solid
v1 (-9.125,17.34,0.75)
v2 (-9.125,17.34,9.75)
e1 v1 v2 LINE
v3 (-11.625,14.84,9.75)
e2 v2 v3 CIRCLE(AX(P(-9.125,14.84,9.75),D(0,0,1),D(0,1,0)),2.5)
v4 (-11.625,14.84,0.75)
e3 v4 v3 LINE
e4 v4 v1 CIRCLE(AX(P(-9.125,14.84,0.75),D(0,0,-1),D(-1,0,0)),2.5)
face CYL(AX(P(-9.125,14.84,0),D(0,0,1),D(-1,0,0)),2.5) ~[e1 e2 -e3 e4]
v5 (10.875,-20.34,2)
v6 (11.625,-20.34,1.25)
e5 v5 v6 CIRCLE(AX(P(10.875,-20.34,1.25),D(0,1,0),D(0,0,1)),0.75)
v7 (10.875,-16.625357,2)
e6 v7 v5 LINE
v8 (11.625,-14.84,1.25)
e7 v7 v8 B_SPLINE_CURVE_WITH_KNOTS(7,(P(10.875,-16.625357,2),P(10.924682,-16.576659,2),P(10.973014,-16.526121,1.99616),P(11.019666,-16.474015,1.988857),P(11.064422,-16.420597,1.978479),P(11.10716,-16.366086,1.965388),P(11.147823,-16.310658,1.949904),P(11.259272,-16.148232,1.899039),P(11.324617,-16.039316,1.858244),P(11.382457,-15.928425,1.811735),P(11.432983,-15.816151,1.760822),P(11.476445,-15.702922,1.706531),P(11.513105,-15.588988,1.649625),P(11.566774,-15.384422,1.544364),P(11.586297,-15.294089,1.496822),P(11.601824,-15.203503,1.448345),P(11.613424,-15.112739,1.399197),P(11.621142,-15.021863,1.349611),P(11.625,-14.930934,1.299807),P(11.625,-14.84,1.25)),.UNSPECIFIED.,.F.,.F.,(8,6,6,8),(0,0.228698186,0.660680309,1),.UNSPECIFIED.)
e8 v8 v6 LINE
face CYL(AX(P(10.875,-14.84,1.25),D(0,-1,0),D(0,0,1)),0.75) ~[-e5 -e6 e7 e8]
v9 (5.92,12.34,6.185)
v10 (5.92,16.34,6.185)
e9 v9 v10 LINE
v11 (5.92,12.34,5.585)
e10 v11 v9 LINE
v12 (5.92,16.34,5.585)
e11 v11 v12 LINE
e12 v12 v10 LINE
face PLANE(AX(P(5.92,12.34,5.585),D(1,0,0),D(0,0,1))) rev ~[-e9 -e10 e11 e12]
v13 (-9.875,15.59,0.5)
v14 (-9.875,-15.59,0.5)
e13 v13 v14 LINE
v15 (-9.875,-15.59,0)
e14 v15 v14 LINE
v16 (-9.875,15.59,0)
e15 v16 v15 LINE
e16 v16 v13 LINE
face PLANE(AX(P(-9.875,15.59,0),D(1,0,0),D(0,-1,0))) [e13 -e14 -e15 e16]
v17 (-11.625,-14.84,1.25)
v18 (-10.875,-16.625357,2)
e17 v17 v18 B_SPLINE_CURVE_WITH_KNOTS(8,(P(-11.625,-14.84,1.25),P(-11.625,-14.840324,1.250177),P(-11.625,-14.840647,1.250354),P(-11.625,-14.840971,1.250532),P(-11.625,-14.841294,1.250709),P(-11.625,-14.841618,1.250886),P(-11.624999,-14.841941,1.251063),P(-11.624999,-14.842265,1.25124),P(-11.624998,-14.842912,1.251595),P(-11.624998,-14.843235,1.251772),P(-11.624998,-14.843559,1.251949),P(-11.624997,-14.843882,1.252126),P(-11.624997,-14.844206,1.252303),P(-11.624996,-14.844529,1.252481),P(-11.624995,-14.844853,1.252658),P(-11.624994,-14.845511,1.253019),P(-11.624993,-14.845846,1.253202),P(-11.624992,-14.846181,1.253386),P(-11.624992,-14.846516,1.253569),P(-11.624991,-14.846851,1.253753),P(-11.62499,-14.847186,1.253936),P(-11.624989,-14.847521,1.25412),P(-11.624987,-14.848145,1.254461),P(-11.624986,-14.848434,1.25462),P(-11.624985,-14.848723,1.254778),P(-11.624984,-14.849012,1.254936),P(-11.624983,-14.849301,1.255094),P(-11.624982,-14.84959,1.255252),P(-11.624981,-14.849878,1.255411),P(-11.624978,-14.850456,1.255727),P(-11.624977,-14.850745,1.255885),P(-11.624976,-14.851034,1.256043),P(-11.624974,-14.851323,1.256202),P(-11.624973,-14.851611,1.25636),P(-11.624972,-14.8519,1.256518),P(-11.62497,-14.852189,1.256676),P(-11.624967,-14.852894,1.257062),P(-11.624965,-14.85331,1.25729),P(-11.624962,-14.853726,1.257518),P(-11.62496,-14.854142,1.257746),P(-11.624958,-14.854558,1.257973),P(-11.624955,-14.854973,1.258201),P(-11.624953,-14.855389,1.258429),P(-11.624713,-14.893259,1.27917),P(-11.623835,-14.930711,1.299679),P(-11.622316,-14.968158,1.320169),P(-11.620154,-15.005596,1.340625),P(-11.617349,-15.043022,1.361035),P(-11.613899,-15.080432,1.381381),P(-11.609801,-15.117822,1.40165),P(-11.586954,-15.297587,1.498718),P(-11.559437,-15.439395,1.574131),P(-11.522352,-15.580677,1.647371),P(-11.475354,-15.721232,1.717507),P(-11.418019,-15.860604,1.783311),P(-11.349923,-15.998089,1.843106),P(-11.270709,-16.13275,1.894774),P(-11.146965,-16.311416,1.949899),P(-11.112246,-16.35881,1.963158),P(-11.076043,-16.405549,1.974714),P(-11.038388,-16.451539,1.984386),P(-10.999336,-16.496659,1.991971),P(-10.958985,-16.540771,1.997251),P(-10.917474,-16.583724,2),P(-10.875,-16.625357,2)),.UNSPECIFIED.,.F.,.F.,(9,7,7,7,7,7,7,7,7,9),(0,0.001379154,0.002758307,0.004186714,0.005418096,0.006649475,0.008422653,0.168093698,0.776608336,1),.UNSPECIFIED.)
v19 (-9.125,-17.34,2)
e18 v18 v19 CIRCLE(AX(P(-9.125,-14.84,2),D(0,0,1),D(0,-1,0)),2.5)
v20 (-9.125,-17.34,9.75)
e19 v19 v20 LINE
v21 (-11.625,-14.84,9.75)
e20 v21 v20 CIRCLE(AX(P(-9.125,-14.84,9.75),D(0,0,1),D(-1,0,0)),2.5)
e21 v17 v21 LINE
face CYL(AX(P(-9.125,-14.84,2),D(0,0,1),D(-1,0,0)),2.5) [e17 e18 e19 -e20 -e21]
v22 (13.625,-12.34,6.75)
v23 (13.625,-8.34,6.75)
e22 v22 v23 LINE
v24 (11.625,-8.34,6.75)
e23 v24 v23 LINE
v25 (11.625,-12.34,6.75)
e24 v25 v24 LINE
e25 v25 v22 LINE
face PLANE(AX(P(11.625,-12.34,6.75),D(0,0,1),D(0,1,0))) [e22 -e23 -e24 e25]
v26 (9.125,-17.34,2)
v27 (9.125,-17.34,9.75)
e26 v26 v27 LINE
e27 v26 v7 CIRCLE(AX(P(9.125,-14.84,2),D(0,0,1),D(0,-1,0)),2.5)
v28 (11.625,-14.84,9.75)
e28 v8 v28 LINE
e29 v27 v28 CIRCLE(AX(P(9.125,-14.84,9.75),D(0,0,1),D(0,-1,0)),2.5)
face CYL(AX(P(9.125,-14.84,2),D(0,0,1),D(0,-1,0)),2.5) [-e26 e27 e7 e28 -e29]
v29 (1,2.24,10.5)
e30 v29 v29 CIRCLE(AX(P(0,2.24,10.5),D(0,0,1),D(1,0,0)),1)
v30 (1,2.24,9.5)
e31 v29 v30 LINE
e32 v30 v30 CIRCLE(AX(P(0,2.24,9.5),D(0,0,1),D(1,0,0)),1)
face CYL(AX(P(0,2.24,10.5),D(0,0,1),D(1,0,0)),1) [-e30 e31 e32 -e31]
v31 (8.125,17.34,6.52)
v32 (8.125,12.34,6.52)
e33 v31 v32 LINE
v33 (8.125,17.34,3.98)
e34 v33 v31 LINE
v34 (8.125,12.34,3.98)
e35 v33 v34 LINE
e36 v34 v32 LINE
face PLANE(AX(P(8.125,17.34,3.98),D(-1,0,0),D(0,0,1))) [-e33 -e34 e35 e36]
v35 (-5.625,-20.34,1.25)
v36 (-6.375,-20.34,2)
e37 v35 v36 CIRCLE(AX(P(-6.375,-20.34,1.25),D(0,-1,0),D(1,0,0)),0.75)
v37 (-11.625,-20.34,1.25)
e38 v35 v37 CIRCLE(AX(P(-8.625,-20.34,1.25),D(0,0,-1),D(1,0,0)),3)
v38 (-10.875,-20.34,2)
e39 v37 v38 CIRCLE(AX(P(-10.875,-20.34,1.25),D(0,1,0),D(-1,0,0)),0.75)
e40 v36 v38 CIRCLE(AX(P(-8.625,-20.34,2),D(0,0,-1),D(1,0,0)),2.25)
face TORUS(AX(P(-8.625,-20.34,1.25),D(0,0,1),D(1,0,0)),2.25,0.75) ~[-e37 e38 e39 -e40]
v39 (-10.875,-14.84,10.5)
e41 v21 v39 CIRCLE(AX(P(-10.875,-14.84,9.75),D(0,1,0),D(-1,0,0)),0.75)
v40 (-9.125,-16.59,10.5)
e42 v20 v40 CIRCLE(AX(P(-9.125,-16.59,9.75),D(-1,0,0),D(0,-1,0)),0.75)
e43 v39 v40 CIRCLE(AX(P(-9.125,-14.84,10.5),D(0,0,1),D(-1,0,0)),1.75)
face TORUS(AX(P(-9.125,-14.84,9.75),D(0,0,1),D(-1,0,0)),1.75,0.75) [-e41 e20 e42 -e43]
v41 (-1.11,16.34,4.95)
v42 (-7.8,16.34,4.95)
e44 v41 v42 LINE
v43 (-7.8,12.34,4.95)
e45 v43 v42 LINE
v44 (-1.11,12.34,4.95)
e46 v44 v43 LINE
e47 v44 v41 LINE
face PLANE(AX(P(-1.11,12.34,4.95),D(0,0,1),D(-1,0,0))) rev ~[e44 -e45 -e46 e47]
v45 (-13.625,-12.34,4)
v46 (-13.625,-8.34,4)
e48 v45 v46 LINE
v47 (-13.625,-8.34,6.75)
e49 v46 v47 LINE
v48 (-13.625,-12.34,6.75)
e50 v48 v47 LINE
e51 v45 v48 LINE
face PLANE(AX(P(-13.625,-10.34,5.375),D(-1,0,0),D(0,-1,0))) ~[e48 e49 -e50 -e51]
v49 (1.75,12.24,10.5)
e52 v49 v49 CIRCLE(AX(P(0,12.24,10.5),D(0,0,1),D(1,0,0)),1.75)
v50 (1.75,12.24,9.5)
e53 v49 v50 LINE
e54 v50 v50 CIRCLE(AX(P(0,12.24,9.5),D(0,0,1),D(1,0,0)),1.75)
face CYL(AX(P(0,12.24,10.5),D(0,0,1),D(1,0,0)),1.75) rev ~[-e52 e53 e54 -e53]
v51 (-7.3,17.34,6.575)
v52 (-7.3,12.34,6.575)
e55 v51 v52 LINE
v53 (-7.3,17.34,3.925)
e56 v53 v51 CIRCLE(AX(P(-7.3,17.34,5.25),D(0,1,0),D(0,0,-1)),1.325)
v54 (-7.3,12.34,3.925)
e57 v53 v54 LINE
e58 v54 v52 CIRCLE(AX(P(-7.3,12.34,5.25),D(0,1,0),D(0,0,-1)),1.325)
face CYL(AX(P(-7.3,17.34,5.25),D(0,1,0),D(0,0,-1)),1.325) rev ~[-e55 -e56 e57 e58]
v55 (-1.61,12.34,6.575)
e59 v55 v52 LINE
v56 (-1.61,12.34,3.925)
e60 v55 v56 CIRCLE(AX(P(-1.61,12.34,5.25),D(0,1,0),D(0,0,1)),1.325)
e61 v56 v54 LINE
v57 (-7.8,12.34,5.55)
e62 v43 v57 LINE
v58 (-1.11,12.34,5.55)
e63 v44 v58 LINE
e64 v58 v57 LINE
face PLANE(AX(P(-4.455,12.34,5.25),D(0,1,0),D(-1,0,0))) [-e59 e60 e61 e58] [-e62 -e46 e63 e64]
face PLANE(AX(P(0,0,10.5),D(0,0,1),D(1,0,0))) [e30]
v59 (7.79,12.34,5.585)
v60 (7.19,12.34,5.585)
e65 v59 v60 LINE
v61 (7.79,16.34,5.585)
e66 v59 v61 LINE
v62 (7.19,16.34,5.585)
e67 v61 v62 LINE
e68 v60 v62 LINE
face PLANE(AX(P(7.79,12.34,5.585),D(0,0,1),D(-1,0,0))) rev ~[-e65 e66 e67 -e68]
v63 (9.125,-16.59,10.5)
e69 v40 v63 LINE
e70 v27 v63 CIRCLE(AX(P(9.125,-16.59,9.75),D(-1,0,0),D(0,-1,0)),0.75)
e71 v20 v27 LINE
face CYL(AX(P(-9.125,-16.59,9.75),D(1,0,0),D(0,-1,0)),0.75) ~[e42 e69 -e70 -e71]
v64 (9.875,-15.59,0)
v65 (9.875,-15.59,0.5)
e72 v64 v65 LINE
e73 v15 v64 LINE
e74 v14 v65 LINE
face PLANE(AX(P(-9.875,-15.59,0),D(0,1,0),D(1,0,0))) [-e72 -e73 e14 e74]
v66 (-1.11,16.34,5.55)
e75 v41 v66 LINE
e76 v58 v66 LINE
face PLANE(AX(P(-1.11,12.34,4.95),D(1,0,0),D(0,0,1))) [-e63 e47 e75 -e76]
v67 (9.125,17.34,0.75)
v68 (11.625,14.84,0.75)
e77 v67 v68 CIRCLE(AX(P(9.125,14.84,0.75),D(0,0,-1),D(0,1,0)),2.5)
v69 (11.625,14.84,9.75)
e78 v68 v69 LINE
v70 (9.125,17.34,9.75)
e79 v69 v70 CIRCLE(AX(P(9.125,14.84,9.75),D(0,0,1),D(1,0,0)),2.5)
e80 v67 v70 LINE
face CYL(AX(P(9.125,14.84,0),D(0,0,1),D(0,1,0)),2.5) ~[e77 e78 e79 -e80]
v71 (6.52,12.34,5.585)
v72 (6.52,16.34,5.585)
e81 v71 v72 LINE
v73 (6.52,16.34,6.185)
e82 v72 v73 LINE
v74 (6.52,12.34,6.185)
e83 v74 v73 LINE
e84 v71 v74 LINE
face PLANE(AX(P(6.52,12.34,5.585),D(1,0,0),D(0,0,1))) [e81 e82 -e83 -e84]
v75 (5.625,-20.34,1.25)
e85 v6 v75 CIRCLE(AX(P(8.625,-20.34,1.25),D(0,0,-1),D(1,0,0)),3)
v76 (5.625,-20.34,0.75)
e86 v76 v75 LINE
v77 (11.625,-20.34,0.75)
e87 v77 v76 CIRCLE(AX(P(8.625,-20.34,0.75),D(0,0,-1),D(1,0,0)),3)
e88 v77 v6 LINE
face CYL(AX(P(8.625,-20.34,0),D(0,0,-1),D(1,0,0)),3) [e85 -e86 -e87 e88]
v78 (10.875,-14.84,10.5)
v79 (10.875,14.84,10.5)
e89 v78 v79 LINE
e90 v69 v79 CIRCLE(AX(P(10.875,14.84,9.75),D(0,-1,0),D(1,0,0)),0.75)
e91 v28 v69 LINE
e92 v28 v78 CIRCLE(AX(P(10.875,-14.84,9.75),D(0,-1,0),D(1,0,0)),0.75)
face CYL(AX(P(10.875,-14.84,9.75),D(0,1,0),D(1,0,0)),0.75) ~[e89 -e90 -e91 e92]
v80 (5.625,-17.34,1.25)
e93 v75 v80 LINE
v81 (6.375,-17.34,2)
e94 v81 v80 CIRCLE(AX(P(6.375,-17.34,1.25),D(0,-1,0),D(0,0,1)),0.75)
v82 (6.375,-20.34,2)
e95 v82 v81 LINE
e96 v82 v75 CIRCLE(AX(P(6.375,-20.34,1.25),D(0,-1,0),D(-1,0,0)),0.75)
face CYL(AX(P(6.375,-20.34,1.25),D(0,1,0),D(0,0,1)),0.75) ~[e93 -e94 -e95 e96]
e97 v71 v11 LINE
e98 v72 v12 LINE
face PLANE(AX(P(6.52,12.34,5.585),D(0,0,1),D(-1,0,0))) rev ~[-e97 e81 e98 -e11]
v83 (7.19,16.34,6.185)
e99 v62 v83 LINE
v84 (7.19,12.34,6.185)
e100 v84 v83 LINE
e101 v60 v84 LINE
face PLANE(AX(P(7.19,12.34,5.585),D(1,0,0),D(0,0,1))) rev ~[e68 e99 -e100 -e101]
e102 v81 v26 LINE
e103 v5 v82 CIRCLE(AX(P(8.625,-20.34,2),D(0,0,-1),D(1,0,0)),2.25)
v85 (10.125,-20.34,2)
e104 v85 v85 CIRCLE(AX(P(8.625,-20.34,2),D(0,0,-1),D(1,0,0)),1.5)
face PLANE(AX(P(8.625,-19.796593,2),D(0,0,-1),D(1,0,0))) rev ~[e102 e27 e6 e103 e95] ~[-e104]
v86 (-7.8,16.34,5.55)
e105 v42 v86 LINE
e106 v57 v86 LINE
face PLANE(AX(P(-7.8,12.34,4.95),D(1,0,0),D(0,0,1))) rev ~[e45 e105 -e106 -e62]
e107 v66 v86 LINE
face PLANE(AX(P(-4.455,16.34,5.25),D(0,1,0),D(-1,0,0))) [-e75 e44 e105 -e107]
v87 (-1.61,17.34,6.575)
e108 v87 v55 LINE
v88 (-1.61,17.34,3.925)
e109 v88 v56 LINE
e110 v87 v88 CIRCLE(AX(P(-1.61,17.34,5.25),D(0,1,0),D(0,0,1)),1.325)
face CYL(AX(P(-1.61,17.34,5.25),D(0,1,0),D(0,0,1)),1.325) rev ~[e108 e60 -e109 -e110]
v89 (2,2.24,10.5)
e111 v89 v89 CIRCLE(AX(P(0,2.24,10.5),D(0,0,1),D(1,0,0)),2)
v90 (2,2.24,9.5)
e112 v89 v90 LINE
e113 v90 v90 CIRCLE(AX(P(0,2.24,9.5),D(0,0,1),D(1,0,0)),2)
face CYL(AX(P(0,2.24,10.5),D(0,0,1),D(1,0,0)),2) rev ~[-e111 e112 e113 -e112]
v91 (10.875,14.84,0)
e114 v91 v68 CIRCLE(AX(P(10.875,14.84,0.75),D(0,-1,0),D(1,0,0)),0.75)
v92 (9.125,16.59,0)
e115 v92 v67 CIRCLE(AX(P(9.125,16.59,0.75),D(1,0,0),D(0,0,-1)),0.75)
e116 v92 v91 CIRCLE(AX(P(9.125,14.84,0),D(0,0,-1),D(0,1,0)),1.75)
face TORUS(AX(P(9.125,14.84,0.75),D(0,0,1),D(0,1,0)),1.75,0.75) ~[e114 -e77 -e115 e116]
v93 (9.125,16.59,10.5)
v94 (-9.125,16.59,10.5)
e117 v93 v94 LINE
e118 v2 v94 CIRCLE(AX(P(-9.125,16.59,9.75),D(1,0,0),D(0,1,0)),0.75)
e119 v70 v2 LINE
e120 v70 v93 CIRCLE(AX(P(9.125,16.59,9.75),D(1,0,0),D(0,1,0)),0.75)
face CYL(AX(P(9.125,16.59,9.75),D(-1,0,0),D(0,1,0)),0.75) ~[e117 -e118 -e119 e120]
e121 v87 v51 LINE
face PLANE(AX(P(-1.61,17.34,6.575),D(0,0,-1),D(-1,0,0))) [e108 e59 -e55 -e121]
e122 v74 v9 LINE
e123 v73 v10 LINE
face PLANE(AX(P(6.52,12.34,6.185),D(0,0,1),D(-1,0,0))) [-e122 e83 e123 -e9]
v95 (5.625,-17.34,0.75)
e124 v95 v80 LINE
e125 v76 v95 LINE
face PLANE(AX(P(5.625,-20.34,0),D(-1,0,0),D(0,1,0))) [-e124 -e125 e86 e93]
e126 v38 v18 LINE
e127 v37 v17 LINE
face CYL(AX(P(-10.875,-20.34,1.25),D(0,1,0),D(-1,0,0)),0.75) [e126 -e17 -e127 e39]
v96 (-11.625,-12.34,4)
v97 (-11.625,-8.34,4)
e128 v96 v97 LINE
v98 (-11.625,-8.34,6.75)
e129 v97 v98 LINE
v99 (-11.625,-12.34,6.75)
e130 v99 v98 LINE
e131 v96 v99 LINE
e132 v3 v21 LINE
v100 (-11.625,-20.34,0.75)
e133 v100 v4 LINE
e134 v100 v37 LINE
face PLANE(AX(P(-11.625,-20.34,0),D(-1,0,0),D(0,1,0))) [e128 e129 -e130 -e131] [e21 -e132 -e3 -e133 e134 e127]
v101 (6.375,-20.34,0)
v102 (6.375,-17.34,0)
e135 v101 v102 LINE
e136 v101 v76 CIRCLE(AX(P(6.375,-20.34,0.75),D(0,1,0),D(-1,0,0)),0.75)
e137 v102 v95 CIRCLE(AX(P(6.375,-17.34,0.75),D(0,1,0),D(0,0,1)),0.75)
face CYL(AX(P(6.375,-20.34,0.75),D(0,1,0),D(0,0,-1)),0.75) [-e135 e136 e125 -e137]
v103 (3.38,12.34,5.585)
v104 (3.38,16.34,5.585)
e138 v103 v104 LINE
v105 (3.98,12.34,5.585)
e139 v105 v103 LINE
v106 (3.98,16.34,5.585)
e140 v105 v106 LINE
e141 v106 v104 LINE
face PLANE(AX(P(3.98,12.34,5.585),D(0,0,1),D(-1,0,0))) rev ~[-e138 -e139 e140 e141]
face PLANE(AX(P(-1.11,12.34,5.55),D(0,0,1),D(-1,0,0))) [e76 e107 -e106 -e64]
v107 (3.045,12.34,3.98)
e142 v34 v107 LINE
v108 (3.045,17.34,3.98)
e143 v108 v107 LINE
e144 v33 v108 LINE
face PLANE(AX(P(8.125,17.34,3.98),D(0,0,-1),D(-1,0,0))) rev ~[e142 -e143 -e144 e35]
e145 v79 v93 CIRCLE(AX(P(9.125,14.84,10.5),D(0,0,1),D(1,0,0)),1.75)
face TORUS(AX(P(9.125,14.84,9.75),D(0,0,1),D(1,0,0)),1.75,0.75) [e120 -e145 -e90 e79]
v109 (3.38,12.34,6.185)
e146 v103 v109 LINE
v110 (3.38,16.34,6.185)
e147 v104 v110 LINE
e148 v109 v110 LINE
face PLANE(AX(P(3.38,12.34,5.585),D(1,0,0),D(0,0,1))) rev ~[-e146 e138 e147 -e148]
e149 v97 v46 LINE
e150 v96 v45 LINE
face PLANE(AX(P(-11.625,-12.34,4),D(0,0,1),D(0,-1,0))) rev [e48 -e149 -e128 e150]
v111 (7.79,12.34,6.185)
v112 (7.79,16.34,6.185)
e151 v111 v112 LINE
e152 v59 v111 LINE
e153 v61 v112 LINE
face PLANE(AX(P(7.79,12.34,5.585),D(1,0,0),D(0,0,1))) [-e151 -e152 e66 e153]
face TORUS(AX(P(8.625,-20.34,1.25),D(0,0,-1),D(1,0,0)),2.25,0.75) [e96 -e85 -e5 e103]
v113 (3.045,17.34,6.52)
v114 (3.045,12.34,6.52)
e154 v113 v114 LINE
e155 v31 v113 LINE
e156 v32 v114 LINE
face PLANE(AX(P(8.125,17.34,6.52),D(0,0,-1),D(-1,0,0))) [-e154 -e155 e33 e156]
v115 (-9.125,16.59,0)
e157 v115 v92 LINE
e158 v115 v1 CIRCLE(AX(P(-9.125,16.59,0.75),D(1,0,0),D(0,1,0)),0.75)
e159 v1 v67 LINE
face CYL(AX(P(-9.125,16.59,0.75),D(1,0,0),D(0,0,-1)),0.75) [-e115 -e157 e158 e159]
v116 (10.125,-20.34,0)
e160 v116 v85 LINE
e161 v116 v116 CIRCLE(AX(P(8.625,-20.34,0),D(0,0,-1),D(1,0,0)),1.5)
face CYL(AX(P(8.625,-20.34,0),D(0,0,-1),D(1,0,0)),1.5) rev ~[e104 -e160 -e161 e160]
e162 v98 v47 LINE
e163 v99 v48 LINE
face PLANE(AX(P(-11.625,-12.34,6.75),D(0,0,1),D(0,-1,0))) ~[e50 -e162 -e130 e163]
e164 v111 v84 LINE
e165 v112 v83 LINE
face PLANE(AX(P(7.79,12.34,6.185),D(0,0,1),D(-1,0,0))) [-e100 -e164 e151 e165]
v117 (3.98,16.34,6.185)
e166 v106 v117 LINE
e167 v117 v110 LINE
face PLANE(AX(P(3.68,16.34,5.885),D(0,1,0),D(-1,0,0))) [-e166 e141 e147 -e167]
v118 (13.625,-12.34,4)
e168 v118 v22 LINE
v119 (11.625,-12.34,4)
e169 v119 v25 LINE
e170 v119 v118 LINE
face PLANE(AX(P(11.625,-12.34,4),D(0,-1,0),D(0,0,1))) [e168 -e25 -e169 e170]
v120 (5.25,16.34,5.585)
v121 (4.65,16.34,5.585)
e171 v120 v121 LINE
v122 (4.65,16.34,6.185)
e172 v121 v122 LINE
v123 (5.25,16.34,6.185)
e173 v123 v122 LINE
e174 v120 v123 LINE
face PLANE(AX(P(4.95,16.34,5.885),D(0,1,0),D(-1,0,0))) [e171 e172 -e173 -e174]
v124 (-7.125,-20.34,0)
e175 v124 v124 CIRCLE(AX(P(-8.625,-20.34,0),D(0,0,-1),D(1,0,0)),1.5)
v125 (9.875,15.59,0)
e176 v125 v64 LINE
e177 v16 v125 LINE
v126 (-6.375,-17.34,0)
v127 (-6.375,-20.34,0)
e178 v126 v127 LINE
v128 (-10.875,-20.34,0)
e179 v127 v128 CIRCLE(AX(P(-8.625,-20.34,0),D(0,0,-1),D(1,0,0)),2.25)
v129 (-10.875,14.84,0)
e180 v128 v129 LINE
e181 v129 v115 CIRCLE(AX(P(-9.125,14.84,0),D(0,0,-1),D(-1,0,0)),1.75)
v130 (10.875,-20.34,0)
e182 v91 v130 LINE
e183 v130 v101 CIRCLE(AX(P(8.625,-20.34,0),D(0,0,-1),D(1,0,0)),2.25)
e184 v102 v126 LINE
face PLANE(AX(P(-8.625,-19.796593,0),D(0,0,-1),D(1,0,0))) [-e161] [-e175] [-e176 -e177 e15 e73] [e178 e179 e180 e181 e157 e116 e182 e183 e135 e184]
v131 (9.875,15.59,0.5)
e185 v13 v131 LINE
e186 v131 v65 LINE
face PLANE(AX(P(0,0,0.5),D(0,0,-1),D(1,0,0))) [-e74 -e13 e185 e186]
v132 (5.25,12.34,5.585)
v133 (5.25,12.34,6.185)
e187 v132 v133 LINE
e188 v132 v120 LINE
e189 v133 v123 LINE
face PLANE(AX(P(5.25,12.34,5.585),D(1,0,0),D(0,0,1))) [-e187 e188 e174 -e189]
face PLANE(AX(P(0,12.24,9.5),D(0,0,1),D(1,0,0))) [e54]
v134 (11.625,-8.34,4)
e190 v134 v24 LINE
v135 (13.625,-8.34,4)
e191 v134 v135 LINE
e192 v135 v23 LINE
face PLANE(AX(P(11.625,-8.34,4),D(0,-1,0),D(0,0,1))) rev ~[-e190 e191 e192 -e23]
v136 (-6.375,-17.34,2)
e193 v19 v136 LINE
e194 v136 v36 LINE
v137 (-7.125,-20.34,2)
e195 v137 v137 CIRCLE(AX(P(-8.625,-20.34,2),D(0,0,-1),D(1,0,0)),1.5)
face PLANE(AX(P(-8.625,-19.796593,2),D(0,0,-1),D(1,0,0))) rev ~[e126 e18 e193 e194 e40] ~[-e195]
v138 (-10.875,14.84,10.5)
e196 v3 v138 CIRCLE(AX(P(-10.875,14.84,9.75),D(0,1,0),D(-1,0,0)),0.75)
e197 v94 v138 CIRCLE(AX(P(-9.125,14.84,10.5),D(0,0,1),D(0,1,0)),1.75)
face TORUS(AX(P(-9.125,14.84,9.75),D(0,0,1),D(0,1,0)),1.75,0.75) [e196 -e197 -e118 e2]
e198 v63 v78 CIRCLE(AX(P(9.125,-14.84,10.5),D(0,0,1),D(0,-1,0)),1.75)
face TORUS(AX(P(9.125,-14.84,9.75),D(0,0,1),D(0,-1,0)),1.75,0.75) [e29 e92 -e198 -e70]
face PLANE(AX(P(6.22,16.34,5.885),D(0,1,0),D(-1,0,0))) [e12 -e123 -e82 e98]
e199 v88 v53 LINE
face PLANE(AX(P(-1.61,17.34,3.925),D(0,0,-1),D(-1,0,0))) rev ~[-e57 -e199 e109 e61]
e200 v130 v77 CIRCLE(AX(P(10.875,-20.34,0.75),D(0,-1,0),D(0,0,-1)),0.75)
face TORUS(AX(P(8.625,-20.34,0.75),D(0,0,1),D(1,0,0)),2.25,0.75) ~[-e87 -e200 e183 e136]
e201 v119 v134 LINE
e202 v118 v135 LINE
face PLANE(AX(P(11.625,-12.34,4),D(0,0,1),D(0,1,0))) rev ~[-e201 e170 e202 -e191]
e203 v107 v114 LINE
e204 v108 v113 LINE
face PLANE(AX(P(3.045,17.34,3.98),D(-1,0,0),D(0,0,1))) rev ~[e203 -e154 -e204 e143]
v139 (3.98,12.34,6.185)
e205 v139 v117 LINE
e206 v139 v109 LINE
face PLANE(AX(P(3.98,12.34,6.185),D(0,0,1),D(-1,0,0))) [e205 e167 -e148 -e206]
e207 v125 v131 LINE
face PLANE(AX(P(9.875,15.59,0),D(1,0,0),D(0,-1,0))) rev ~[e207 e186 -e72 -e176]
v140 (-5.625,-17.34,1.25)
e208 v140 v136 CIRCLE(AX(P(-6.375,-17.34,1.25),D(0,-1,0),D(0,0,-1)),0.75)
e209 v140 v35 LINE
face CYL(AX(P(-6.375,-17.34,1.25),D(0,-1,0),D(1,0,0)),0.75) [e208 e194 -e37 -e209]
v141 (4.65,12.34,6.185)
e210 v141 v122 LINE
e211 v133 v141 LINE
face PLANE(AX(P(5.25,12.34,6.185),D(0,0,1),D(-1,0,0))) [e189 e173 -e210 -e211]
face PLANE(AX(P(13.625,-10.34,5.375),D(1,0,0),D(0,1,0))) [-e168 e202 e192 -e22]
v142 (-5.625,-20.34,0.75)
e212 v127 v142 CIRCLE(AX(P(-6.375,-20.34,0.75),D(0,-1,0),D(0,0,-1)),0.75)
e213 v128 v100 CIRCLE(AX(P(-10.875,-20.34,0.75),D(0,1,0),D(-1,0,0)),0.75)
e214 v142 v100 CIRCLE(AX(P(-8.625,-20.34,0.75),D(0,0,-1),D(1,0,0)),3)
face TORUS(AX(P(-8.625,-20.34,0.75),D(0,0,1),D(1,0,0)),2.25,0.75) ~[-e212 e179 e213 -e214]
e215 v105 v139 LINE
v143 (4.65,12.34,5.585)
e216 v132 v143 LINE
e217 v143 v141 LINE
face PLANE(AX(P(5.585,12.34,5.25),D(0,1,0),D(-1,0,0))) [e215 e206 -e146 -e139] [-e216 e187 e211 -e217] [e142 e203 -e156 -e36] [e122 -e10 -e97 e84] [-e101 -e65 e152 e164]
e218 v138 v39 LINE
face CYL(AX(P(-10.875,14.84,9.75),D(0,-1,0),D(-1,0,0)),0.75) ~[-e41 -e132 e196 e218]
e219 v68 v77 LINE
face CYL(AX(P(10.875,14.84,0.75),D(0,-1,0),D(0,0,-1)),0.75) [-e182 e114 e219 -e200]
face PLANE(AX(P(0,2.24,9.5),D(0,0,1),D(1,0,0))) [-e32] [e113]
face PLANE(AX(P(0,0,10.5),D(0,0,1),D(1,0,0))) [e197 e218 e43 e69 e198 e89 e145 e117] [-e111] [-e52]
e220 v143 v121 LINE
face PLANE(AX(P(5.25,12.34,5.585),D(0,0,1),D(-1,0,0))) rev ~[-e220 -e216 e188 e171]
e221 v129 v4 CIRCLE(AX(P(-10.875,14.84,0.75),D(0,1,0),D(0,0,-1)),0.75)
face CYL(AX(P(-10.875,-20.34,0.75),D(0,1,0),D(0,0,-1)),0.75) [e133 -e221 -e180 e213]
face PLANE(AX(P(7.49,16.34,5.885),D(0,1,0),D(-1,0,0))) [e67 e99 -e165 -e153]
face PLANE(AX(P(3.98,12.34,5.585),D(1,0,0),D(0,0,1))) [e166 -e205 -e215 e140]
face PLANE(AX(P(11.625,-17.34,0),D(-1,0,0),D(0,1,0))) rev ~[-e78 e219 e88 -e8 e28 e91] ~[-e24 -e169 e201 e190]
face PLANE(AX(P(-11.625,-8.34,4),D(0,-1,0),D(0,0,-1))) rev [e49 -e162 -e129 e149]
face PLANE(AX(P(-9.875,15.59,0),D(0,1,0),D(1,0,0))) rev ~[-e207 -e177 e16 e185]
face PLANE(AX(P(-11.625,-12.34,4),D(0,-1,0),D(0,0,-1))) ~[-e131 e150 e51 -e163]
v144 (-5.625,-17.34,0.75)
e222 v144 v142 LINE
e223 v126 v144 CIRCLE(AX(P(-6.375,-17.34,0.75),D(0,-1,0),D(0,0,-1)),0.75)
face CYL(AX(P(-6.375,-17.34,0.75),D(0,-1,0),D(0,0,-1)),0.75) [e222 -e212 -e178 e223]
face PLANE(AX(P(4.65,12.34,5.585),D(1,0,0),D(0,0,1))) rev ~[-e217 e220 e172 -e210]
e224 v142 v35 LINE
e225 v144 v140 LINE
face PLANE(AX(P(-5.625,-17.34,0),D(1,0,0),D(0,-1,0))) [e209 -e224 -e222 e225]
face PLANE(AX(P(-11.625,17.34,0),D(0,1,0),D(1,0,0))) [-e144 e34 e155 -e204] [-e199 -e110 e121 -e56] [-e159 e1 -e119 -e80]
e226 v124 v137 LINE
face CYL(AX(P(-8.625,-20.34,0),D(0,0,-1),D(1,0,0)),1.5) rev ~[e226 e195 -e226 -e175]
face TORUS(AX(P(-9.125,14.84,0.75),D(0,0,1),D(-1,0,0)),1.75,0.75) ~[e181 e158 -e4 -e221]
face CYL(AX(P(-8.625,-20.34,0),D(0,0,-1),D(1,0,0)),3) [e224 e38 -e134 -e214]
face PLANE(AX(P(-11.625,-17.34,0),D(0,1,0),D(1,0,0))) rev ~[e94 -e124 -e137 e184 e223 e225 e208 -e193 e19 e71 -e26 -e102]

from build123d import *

# Parameters (mm, degrees)
SKETCH_W        = 23.25
SKETCH_H        = 34.68
PAD_DEPTH       = 10.5
SKETCH001_R     = 1.5
PAD001_DEPTH    = 2
SKETCH002_R     = 1.75
SKETCH002_R_2   = 2
SKETCH002_R_3   = 1
POCKET_DEPTH    = 1
FILLET_R        = 2.5
FILLET001_R     = 0.75
SKETCH003_W     = 5.08
SKETCH003_H     = 2.54
POCKET001_DEPTH = 5
SKETCH004_W     = 0.6
SKETCH004_H     = 0.6
SKETCH004_W_2   = 6.69
PAD002_DEPTH    = 4
SKETCH005_W     = 19.75
SKETCH005_H     = 31.18
POCKET002_DEPTH = 0.5
SKETCH006_W     = 4
SKETCH006_H     = 2.75
PAD003_DEPTH    = 2


with BuildPart() as part:
    # Sketch → Pad (new body)
    with BuildSketch(Plane.XY):
        Rectangle(SKETCH_W, SKETCH_H)
    extrude(amount=PAD_DEPTH)

    # Sketch001 (on Face5 of Pad) → Pad001 (join)
    with BuildSketch(Plane(origin=(0, 0, 0), x_dir=(1, 0, 0), z_dir=(0, 0, -1))):
        with BuildLine():
            Line((-11.625, 20.34), (-11.625, 17.34))
            Line((-11.625, 17.34), (-5.625, 17.34))
            Line((-5.625, 17.34), (-5.625, 20.34))
            ThreePointArc((-5.625, 20.34), (-8.625, 23.34), (-11.625, 20.34))
        make_face()
        with Locations((-8.625, 20.34)):
            Circle(SKETCH001_R, mode=Mode.SUBTRACT)
        with BuildLine():
            Line((5.625, 20.34), (5.625, 17.34))
            Line((5.625, 17.34), (11.625, 17.34))
            Line((11.625, 17.34), (11.625, 20.34))
            ThreePointArc((11.625, 20.34), (8.625, 23.34), (5.625, 20.34))
        make_face()
        with Locations((8.625, 20.34)):
            Circle(SKETCH001_R, mode=Mode.SUBTRACT)
    extrude(amount=-PAD001_DEPTH)

    # Sketch002 (on Face2 of Pad001) → Pocket (cut)
    with BuildSketch(Plane.XY.offset(10.5)):
        with Locations((0, 12.24)):
            Circle(SKETCH002_R)
        with Locations((0, 2.24)):
            Circle(SKETCH002_R_2)
        with Locations((0, 2.24)):
            Circle(SKETCH002_R_3, mode=Mode.SUBTRACT)
    extrude(amount=-POCKET_DEPTH, mode=Mode.SUBTRACT)

    # Fillet
    fillet_edges = [part.edges().sort_by_distance(p)[0] for p in [
        (11.625, -17.34, 6.25),
        (-11.625, -17.34, 6.25),
        (11.625, 17.34, 5.25),
        (-11.625, 17.34, 5.25),
    ]]
    fillet(fillet_edges, radius=FILLET_R)

    # Fillet001
    fillet001_edges = [part.edges().sort_by_distance(p)[0] for p in [
        (11.625, 0, 10.5),
        (10.892767, -16.607767, 10.5),
        (0, -17.34, 10.5),
        (-10.892767, -16.607767, 10.5),
        (-11.625, 0, 10.5),
        (-10.892767, 16.607767, 10.5),
        (0, 17.34, 10.5),
        (10.892767, 16.607767, 10.5),
        (-10.892767, 16.607767, 0),
        (-11.625, -18.84, 2),
        (-8.625, -23.34, 2),
        (-5.625, -18.84, 2),
        (5.625, -18.84, 2),
        (8.625, -23.34, 2),
        (11.625, -18.84, 2),
    ]]
    fillet(fillet001_edges, radius=FILLET001_R)

    # Sketch003 (on Face41 of Fillet001) → Pocket001 (cut)
    with BuildSketch(Plane(origin=(0, 17.34, 0), x_dir=(-1, 0, 0), z_dir=(0, 1, 0))):
        with Locations((-5.585, 5.25)):
            Rectangle(SKETCH003_W, SKETCH003_H)
        with BuildLine():
            ThreePointArc((1.61, 6.575), (0.285, 5.25), (1.61, 3.925))
            Line((1.61, 3.925), (7.3, 3.925))
            ThreePointArc((7.3, 3.925), (8.625, 5.25), (7.3, 6.575))
            Line((1.61, 6.575), (7.3, 6.575))
        make_face()
    extrude(amount=-POCKET001_DEPTH, mode=Mode.SUBTRACT)

    # Sketch004 (on Face55 of Pocket001) → Pad002 (join)
    with BuildSketch(Plane(origin=(0, 12.34, 0), x_dir=(-1, 0, 0), z_dir=(0, 1, 0))):
        with Locations((-7.49, 5.885)):
            Rectangle(SKETCH004_W, SKETCH004_H)
        with Locations((-6.22, 5.885)):
            Rectangle(SKETCH004_W, SKETCH004_H)
        with Locations((-4.95, 5.885)):
            Rectangle(SKETCH004_W, SKETCH004_H)
        with Locations((-3.68, 5.885)):
            Rectangle(SKETCH004_W, SKETCH004_H)
        with Locations((4.455, 5.25)):
            Rectangle(SKETCH004_W_2, SKETCH004_H)
    extrude(amount=PAD002_DEPTH)

    # Sketch005 (on Face9 of Pad002) → Pocket002 (cut)
    with BuildSketch(Plane(origin=(0, 0, 0), x_dir=(1, 0, 0), z_dir=(0, 0, -1))):
        Rectangle(SKETCH005_W, SKETCH005_H)
    extrude(amount=-POCKET002_DEPTH, mode=Mode.SUBTRACT)

    # Sketch006 (on Face24 of Pocket002) → Pad003 (join)
    with BuildSketch(Plane.YZ.offset(11.625)):
        with Locations((-10.34, 5.375)):
            Rectangle(SKETCH006_W, SKETCH006_H)
    pad003 = extrude(amount=PAD003_DEPTH)

    # Mirrored: Pad003 across YZ
    add(pad003.mirror(Plane.YZ))


solid = part.part
